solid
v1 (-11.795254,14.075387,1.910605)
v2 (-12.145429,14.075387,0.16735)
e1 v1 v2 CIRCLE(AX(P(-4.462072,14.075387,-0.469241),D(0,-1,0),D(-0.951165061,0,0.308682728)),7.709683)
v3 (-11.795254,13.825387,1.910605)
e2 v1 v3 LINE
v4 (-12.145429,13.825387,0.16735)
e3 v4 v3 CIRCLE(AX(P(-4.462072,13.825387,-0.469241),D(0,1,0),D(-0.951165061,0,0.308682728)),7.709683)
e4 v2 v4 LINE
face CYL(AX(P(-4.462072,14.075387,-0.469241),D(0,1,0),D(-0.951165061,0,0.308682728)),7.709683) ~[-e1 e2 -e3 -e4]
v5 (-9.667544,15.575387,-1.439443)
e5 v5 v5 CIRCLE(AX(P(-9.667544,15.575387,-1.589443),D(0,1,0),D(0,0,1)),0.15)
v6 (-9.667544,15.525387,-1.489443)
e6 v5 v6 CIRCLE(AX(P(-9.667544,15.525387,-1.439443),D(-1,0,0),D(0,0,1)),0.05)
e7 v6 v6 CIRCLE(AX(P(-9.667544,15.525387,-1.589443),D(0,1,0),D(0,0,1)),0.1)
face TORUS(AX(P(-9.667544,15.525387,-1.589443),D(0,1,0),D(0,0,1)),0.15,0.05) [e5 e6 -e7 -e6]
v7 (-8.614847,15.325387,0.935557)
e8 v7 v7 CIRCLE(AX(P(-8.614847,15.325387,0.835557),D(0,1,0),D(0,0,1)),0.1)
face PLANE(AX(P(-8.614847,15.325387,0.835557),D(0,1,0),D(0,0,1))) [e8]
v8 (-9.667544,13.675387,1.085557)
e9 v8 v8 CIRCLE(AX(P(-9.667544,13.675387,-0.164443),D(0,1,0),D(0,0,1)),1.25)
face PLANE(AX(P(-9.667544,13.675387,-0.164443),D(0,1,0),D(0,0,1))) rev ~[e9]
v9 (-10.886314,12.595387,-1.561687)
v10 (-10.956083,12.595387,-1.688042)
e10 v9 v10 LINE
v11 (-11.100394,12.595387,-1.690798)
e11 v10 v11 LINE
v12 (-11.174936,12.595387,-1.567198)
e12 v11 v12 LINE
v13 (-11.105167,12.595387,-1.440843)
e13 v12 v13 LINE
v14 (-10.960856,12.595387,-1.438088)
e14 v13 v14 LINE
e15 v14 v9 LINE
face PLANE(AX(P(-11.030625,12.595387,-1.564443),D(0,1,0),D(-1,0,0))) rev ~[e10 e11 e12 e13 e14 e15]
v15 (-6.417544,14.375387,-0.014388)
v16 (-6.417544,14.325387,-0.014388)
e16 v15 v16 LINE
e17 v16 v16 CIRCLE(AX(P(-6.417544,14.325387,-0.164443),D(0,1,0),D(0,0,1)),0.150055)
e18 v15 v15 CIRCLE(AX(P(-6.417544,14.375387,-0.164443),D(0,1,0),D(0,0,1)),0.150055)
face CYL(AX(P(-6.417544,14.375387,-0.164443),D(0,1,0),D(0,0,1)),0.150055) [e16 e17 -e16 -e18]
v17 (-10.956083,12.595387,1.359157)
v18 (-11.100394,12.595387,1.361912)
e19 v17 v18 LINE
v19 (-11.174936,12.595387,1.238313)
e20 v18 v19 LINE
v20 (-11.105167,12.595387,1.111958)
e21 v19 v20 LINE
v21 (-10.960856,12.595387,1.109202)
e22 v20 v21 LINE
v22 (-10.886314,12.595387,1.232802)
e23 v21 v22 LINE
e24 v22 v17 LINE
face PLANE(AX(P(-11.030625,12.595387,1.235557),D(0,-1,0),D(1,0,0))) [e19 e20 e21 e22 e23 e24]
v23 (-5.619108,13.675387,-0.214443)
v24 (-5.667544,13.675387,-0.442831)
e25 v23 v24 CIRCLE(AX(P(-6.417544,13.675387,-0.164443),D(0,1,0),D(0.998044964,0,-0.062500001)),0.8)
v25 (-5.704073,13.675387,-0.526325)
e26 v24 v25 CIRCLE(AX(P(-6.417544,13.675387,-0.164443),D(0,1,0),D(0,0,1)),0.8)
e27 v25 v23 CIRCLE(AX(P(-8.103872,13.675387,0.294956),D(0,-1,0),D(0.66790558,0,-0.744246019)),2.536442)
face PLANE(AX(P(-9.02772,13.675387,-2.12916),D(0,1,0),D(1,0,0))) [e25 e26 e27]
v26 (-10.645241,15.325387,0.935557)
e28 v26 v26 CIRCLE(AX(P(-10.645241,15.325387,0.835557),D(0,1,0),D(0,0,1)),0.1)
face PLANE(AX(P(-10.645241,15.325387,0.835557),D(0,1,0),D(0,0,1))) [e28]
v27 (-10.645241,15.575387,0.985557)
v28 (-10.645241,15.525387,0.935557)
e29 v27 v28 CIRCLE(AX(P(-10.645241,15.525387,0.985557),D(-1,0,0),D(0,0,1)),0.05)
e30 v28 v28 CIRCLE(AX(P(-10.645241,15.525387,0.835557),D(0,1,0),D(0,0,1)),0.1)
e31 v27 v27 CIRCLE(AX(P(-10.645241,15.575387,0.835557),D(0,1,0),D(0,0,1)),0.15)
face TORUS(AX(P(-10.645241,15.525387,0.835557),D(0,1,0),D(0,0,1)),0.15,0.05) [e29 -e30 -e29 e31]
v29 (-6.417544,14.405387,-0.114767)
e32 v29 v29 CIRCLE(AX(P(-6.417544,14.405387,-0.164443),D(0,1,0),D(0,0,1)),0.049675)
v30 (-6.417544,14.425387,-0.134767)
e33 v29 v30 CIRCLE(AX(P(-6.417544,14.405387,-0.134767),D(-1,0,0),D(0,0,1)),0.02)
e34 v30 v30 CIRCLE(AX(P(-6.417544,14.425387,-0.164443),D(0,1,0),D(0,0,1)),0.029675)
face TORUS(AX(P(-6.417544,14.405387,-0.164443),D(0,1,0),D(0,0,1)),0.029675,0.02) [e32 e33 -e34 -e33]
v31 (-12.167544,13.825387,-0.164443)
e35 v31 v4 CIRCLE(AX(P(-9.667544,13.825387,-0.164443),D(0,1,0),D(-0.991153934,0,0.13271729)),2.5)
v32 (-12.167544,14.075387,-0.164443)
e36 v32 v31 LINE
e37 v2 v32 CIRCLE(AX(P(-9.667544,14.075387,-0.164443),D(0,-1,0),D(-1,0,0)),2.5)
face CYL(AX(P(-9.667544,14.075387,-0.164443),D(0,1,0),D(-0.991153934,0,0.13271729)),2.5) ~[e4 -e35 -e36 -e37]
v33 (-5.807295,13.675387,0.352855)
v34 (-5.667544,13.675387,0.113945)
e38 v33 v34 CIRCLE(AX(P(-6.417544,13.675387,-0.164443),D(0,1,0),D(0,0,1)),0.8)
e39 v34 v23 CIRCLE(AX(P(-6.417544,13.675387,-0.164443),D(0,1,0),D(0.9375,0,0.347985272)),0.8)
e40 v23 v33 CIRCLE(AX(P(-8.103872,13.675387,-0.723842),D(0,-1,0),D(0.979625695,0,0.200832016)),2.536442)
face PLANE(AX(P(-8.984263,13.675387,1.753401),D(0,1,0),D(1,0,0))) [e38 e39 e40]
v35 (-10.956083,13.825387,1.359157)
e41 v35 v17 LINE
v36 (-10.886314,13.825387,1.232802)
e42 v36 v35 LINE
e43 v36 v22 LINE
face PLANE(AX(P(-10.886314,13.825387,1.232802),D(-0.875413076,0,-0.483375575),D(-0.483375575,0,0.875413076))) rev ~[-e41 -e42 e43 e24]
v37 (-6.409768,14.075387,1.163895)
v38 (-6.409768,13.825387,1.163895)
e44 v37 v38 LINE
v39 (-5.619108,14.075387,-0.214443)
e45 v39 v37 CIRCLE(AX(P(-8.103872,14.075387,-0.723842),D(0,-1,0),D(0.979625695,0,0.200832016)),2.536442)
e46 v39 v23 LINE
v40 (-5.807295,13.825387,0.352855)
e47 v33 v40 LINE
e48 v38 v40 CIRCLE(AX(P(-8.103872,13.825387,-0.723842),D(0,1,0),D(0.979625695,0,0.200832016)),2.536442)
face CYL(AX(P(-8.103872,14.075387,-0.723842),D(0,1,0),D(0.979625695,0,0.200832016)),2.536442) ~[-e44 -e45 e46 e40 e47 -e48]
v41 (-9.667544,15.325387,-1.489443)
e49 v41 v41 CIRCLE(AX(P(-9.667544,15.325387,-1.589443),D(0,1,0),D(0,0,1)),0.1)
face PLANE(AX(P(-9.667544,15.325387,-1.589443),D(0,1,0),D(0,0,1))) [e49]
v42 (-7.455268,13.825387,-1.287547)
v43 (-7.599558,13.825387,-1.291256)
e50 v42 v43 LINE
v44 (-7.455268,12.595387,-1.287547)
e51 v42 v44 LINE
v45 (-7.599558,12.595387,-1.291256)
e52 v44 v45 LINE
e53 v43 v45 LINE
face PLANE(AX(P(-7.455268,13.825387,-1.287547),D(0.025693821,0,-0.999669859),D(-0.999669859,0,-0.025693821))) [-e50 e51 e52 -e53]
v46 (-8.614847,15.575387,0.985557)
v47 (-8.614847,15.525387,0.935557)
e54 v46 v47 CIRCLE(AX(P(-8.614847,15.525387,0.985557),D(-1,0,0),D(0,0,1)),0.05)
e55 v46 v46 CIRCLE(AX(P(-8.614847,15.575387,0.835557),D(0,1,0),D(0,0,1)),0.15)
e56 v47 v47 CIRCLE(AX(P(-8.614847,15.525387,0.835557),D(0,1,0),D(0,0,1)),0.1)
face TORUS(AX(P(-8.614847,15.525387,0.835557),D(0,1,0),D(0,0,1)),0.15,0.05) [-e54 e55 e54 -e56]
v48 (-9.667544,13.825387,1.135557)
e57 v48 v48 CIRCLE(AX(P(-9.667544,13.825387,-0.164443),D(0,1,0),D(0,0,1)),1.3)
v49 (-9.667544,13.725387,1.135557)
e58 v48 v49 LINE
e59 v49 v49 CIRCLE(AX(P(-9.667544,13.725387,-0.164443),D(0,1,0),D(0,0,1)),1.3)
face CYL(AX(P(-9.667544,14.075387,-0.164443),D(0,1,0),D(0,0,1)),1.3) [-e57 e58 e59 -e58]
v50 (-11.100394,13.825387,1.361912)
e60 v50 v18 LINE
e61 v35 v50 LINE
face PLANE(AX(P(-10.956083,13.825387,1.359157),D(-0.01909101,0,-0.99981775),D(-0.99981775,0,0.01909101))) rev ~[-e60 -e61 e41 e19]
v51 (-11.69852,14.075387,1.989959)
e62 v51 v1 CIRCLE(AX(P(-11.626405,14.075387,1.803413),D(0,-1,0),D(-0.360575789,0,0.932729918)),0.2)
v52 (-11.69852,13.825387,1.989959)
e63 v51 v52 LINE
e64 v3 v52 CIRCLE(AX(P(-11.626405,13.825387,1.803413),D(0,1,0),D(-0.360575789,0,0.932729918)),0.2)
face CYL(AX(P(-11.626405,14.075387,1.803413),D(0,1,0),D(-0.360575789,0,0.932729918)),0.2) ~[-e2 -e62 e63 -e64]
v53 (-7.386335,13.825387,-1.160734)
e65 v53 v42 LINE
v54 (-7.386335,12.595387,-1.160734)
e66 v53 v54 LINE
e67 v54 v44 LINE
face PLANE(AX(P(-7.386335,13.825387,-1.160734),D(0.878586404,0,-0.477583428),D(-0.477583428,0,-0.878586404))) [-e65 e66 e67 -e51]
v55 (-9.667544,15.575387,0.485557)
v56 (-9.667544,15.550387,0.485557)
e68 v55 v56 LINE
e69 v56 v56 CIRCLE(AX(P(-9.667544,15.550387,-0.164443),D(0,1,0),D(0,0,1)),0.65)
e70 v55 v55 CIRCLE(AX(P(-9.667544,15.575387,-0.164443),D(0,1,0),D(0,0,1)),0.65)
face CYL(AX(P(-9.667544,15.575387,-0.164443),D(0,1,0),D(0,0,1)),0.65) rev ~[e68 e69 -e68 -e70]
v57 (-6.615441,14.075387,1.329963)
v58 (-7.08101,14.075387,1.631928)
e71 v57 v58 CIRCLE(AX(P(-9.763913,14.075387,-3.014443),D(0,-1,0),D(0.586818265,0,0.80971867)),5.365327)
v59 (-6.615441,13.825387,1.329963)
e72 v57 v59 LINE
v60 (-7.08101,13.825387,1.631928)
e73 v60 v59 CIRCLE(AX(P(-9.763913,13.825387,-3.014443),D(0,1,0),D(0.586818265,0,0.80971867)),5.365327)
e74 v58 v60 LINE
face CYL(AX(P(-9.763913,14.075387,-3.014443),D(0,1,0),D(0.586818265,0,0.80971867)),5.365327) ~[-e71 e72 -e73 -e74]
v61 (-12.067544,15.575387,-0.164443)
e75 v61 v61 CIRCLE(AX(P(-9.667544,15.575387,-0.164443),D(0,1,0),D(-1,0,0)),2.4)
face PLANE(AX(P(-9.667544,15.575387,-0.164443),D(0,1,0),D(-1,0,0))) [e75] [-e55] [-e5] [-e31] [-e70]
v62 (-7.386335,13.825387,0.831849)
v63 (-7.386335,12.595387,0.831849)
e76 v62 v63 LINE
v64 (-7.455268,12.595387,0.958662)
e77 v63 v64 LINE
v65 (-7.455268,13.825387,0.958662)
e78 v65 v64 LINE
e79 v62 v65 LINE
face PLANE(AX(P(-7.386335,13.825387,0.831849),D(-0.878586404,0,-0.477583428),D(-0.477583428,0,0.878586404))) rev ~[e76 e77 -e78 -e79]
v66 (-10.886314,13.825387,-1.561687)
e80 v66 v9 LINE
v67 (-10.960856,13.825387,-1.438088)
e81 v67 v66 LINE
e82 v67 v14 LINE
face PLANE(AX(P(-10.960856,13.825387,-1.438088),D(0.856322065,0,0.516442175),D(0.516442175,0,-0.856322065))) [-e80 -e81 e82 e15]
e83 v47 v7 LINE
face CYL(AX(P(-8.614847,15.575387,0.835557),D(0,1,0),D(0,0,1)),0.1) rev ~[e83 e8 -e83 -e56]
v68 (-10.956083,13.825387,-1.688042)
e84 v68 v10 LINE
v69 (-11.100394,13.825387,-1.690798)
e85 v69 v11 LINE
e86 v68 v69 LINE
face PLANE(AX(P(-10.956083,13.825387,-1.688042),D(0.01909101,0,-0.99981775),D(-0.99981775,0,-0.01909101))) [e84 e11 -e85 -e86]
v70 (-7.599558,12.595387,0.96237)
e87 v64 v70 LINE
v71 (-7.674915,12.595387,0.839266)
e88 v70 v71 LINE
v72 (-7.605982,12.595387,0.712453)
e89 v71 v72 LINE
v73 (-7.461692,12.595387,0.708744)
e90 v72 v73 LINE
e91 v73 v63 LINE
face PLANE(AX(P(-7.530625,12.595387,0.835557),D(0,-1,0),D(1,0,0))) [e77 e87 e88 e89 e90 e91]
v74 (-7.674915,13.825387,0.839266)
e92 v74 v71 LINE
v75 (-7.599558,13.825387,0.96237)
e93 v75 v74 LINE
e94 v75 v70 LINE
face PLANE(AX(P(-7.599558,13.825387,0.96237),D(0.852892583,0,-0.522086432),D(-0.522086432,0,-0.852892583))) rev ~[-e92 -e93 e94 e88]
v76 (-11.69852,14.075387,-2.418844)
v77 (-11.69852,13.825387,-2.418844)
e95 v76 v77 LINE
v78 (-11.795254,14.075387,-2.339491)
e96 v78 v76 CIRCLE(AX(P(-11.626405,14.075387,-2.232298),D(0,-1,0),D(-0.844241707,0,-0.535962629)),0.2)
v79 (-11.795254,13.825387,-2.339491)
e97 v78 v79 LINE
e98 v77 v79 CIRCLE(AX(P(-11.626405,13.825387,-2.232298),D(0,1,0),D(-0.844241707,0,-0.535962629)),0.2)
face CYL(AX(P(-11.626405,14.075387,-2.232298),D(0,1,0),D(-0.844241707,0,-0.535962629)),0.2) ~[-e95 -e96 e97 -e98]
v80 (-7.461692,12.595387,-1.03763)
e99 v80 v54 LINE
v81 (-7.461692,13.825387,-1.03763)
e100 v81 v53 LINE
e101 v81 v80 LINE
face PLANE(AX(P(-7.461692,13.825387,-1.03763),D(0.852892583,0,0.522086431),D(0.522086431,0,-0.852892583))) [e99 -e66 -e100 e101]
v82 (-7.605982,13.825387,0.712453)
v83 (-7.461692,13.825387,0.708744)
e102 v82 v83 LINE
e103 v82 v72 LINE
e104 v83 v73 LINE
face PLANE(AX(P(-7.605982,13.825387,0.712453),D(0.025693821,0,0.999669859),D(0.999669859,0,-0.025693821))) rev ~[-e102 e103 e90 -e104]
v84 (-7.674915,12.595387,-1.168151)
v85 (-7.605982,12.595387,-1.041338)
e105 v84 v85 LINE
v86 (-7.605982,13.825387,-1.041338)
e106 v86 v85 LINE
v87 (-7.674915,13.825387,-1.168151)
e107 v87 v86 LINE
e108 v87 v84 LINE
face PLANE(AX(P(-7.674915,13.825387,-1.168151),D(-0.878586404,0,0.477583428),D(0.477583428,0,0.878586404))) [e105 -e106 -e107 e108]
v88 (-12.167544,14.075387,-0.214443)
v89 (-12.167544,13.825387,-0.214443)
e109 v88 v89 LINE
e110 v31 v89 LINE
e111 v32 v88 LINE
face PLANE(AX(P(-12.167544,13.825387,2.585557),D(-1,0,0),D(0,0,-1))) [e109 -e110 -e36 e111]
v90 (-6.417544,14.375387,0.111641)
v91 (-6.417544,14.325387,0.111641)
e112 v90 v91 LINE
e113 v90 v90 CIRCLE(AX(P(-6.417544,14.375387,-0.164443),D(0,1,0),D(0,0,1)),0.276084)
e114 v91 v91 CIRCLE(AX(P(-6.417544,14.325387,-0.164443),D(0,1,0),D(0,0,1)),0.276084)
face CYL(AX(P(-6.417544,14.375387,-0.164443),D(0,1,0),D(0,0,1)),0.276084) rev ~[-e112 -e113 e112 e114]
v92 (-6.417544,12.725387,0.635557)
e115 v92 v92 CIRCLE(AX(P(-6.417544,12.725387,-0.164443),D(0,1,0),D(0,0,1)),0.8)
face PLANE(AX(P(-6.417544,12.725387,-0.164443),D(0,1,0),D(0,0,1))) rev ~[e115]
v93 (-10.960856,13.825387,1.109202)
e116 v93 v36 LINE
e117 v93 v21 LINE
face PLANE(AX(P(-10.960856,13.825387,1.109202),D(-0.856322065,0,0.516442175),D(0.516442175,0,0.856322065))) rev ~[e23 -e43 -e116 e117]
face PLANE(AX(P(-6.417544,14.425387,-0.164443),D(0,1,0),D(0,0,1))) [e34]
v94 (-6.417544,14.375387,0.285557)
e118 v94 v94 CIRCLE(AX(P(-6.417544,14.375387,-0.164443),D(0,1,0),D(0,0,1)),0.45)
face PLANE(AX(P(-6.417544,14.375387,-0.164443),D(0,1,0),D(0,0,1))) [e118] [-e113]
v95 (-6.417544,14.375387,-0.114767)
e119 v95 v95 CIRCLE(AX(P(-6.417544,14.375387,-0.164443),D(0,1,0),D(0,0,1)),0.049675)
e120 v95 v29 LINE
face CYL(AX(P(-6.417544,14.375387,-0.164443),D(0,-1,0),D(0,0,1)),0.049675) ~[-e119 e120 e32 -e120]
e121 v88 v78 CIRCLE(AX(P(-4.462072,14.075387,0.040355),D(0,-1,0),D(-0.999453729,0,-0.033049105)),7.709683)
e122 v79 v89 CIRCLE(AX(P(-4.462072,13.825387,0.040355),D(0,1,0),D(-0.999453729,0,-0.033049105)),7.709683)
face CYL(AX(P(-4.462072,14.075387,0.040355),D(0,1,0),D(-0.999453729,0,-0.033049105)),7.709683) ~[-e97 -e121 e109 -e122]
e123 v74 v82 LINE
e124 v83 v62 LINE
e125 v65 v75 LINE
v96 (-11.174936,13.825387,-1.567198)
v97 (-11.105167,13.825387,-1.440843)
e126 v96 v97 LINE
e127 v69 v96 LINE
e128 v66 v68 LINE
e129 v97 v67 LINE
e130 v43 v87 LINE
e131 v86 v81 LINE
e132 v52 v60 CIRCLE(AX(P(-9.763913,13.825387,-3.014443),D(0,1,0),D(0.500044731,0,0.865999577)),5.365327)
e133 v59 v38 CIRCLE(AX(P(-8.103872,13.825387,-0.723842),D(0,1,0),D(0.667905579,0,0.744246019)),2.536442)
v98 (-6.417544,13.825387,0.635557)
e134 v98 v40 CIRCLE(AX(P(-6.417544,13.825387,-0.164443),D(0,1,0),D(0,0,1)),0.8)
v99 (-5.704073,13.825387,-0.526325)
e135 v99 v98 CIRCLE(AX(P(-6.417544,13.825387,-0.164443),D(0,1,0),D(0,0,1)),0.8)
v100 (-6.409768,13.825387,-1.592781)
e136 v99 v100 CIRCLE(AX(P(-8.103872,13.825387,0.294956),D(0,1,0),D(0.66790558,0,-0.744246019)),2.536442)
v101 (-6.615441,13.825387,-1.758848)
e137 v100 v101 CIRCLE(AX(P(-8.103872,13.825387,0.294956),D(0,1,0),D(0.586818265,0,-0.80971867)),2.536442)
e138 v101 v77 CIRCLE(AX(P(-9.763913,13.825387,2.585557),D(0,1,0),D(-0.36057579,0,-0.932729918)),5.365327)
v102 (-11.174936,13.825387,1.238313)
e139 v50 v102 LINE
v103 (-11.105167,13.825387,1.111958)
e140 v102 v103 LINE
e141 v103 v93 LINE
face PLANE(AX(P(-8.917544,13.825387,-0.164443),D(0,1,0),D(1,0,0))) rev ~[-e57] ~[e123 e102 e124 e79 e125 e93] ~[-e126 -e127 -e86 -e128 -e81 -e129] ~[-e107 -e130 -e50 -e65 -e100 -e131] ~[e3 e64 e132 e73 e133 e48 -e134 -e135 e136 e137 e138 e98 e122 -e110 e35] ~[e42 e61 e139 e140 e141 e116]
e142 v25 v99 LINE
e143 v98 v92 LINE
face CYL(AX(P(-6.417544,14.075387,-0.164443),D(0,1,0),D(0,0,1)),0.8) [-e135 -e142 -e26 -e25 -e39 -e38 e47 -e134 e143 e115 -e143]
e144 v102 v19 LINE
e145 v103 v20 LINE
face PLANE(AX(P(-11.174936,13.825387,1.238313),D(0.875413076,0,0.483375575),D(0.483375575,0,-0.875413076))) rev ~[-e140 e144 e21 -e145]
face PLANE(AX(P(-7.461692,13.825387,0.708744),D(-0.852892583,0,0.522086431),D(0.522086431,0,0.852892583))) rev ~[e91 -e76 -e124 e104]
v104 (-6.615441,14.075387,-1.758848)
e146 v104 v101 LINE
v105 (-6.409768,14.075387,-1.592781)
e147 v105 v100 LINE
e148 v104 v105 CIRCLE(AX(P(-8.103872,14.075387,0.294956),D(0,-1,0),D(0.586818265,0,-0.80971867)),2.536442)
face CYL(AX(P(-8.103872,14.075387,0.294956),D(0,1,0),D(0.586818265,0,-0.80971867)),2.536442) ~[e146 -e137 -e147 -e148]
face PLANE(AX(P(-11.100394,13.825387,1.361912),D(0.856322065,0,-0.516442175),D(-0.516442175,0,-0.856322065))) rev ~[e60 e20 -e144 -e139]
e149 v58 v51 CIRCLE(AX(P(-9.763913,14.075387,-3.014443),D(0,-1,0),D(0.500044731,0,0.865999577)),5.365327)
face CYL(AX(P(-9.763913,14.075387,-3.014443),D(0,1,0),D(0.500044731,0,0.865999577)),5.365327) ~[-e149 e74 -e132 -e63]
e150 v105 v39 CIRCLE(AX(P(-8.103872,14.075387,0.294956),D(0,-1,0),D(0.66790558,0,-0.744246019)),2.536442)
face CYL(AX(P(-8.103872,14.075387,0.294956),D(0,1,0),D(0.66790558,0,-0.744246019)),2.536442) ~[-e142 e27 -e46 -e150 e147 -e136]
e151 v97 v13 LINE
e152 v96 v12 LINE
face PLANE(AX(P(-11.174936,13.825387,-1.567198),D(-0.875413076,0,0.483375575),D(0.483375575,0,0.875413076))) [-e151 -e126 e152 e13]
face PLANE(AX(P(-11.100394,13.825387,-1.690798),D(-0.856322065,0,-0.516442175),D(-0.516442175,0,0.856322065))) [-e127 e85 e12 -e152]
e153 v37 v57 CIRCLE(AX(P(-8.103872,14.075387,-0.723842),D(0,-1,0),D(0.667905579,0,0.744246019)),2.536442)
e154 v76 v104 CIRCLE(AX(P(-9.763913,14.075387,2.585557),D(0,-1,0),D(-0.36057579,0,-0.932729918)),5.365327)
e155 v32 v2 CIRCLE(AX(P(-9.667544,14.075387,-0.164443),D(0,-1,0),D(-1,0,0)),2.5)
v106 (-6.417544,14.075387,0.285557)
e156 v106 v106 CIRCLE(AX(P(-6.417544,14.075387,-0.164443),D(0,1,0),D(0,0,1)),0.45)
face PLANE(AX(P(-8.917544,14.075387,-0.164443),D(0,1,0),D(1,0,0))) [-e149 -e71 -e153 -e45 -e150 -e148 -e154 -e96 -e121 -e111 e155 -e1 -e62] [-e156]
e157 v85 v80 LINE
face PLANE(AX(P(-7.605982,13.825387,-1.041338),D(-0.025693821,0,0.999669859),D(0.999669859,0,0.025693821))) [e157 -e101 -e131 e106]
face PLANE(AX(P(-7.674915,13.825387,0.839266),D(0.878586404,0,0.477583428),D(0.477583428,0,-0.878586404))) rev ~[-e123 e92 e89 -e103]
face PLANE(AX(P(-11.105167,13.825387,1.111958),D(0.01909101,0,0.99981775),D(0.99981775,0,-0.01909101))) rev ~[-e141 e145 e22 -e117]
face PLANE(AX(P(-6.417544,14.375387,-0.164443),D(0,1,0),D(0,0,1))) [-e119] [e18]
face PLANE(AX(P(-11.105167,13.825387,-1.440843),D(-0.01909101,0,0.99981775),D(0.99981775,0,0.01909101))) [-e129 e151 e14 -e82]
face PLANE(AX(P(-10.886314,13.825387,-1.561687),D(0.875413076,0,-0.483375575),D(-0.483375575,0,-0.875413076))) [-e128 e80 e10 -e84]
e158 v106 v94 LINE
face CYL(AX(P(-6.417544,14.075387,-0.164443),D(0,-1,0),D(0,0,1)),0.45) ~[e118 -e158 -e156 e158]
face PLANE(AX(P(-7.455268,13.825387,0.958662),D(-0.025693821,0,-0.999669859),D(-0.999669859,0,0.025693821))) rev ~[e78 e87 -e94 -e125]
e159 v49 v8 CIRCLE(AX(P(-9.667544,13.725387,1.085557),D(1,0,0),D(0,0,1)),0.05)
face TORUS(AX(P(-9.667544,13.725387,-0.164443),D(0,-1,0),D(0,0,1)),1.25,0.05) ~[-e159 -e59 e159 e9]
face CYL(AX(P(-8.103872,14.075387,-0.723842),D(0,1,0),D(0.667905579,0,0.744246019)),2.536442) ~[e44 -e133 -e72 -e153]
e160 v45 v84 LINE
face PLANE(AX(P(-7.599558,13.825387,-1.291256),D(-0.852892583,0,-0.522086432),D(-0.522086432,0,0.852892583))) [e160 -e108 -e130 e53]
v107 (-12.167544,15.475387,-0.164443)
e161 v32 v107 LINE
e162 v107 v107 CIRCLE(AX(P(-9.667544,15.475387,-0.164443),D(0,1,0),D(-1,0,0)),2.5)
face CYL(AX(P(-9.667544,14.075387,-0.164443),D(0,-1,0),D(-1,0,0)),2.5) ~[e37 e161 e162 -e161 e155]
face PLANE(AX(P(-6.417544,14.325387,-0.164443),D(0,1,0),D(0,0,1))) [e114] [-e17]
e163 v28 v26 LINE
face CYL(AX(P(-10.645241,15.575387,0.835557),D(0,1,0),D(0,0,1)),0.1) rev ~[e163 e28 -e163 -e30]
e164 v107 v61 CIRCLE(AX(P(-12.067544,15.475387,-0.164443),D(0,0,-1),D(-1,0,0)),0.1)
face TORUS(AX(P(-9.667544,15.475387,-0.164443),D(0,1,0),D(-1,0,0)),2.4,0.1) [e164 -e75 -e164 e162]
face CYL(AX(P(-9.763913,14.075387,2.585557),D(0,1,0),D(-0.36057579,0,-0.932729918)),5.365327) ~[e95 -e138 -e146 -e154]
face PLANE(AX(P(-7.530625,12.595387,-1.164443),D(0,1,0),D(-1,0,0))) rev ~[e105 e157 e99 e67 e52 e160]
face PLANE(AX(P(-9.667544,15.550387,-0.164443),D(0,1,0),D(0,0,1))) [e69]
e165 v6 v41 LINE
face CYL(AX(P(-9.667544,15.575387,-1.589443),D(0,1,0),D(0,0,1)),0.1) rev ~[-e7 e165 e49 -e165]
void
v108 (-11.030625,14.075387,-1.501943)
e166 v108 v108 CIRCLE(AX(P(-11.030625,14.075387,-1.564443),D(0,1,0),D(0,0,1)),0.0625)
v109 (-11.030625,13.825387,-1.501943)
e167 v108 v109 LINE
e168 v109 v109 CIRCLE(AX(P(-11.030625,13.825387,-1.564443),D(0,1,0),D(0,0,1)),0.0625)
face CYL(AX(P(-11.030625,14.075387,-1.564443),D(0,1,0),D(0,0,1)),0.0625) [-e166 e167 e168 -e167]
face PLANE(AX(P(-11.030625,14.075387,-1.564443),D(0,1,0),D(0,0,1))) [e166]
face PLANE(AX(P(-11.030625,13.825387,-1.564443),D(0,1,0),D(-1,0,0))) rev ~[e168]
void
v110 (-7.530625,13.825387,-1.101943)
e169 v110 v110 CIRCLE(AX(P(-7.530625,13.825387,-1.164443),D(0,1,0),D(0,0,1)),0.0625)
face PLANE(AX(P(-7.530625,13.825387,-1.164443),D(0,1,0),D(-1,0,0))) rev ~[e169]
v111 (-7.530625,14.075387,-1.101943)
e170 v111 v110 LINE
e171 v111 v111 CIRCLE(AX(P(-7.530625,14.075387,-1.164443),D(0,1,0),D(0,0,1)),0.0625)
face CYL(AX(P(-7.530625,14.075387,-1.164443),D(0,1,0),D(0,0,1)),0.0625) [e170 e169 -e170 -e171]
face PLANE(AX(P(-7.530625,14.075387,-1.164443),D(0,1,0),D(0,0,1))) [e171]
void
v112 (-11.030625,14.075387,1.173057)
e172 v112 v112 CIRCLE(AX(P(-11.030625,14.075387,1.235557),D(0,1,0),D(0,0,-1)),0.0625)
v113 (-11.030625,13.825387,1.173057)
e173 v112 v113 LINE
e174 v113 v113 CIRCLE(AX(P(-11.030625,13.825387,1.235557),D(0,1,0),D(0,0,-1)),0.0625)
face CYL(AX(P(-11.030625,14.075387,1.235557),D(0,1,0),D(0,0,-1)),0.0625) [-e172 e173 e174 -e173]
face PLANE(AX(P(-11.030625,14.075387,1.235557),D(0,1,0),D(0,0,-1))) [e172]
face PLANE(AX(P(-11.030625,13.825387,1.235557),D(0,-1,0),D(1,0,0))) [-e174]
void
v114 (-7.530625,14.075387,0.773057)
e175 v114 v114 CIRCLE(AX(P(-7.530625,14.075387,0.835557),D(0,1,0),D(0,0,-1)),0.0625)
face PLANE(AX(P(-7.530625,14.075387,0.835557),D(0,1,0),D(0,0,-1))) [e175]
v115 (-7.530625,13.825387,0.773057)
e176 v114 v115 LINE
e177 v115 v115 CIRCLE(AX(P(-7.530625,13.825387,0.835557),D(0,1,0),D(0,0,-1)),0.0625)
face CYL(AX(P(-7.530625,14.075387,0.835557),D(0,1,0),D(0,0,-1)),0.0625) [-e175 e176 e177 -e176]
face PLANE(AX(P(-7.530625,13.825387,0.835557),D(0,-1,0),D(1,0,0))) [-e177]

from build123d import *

# Parameters (mm, degrees)
SKETCH_1_W          = 130
SKETCH_1_H          = 110
EXTRUDE_1_DEPTH     = 5
SKETCH_2_R          = 50
EXTRUDE_2_DEPTH     = 30
SKETCH_3_R          = 2
CUT_EXTRUDE_1_DEPTH = 5
FILLET_1_R          = 2
FILLET_2_R          = 1
SKETCH_4_R          = 13
CUT_EXTRUDE_3_DEPTH = 0.5
SKETCH_5_R          = 1.25
CUT_EXTRUDE_4_DEPTH = 5
SKETCH_6_R          = 9
EXTRUDE_3_DEPTH     = 7
CUT_EXTRUDE_START   = -1
SKETCH_7_R          = 9
SKETCH_7_R_2        = 0.99350654
CUT_EXTRUDE_5_DEPTH = 1
SKETCH_8_R          = 5.521677929
SKETCH_8_R_2        = 3.001097475
CUT_EXTRUDE_6_DEPTH = 1
FILLET_3_R          = 0.4
SKETCH_9_R          = 16
EXTRUDE_4_DEPTH     = 27
EXTRUDE_5_DEPTH     = 24.6
SKETCH_11_R         = 26
EXTRUDE_6_DEPTH     = 8
FILLET_4_R          = 1
CUT_EXTRUDE_7_DEPTH = 8
L_EK1_SCALE         = 0.05


with BuildPart() as part:
    # Эскиз1 → Бобышка-Вытянуть1 (new body)
    with BuildSketch(Plane(origin=(0, 0, 0), x_dir=(1, 0, 0), z_dir=(0, 1, 0))):
        Rectangle(SKETCH_1_W, SKETCH_1_H)
    extrude(amount=EXTRUDE_1_DEPTH)

    # Эскиз2 → Бобышка-Вытянуть2 (add)
    with BuildSketch(Plane(origin=(0, 5, 0), x_dir=(1, 0, 0), z_dir=(0, 1, 0))):
        with Locations(Location((-15, 0, 0), (0, 0, 180))):
            Circle(SKETCH_2_R)
    extrude(amount=EXTRUDE_2_DEPTH)

    # Эскиз3 → Вырез-Вытянуть1 (cut)
    with BuildSketch(Plane(origin=(0, 35, 0), x_dir=(1, 0, 0), z_dir=(0, 1, 0))):
        with Locations(Location((-15, 28.5, 0), (0, 0, 270))):
            Circle(SKETCH_3_R)
        with Locations(Location((-34.553940504, -20, 0), (0, 0, 270))):
            Circle(SKETCH_3_R)
        with Locations(Location((6.053940504, -20, 0), (0, 0, 270))):
            Circle(SKETCH_3_R)
    extrude(amount=-CUT_EXTRUDE_1_DEPTH, mode=Mode.SUBTRACT)

    # Скругление1
    fillet_1_edges = [part.edges().sort_by_distance(p)[0] for p in [
        (35, 35, 0),
    ]]
    fillet(fillet_1_edges, radius=FILLET_1_R)

    # Скругление2
    fillet_2_edges = [part.edges().sort_by_distance(p)[0] for p in [
        (-15, 35, -30.5),
        (-34.553940504, 35, 18),
        (6.053940504, 35, 18),
    ]]
    fillet(fillet_2_edges, radius=FILLET_2_R)

    # Эскиз4 → Вырез-Вытянуть3 (cut)
    with BuildSketch(Plane(origin=(0, 35, 0), x_dir=(1, 0, 0), z_dir=(0, 1, 0))):
        with Locations(Location((-15, 0, 0), (0, 0, 270))):
            Circle(SKETCH_4_R)
    extrude(amount=-CUT_EXTRUDE_3_DEPTH, mode=Mode.SUBTRACT)

    # Эскиз5 → Вырез-Вытянуть4 (cut)
    with BuildSketch(Plane(origin=(0, 5, 0), x_dir=(1, 0, 0), z_dir=(0, 1, 0))):
        with Locations(Location((-42.261625838, 28, 0), (0, 0, 270))):
            Circle(SKETCH_5_R)
        with Locations(Location((27.738374162, 20, 0), (0, 0, 270))):
            Circle(SKETCH_5_R)
        with Locations(Location((27.738374162, -20, 0), (0, 0, 90))):
            Circle(SKETCH_5_R)
        with Locations(Location((-42.261625838, -28, 0), (0, 0, 90))):
            Circle(SKETCH_5_R)
    extrude(amount=-CUT_EXTRUDE_4_DEPTH, mode=Mode.SUBTRACT)

    # Эскиз6 → Бобышка-Вытянуть3 (add)
    with BuildSketch(Plane(origin=(0, 5, 0), x_dir=(1, 0, 0), z_dir=(0, 1, 0))):
        with Locations(Location((50, 0, 0), (0, 0, 270))):
            Circle(SKETCH_6_R)
    extrude(amount=EXTRUDE_3_DEPTH)

    # Эскиз7 → Вырез-Вытянуть5 (cut)
    with BuildSketch(Plane(origin=(0, 12, 0), x_dir=(1, 0, 0), z_dir=(0, 1, 0)).offset(CUT_EXTRUDE_START)):
        with Locations(Location((50, 0, 0), (0, 0, 270))):
            Circle(SKETCH_7_R)
        with Locations(Location((50, 0, 0), (0, 0, 270))):
            Circle(SKETCH_7_R_2, mode=Mode.SUBTRACT)
    extrude(amount=CUT_EXTRUDE_5_DEPTH, mode=Mode.SUBTRACT)

    # Эскиз8 → Вырез-Вытянуть6 (cut)
    with BuildSketch(Plane(origin=(0, 11, 0), x_dir=(1, 0, 0), z_dir=(0, 1, 0))):
        with Locations(Location((50, 0, 0), (0, 0, 270))):
            Circle(SKETCH_8_R)
        with Locations(Location((50, 0, 0), (0, 0, 270))):
            Circle(SKETCH_8_R_2, mode=Mode.SUBTRACT)
    extrude(amount=-CUT_EXTRUDE_6_DEPTH, mode=Mode.SUBTRACT)

    # Скругление3
    fillet_3_edges = [part.edges().sort_by_distance(p)[0] for p in [
        (50, 12, -0.99350654),
    ]]
    fillet(fillet_3_edges, radius=FILLET_3_R)

    # Эскиз9 → Бобышка-Вытянуть4 (add)
    with BuildSketch(Plane(origin=(0, 5, 0), x_dir=(1, 0, 0), z_dir=(0, 1, 0))):
        with Locations(Location((50, 0, 0), (0, 0, 270))):
            Circle(SKETCH_9_R)
    extrude(amount=-EXTRUDE_4_DEPTH)

    # Эскиз10 → Бобышка-Вытянуть5 (add)
    with BuildSketch(Plane.XZ):
        Polygon((-40.866240746, 25.472900125), (-39.375400602, 27.944889), (-40.770785694, 30.471988875), (-43.65701093, 30.527099875), (-45.147851074, 28.055111), (-43.752465982, 25.528011125), align=None)
        Polygon((29.24550787, 22.462088812), (26.359709559, 22.536260484), (24.85257585, 20.074171672), (26.231240454, 17.537911188), (29.117038766, 17.463739516), (30.624172474, 19.925828328), align=None)
        Polygon((30.624172474, -19.925828328), (29.24550787, -22.462088812), (26.359709559, -22.536260484), (24.85257585, -20.074171672), (26.231240454, -17.537911188), (29.117038766, -17.463739516), align=None)
        Polygon((-43.752465982, -25.528011125), (-40.866240746, -25.472900125), (-39.375400602, -27.944889), (-40.770785694, -30.471988875), (-43.65701093, -30.527099875), (-45.147851074, -28.055111), align=None)
    extrude(amount=EXTRUDE_5_DEPTH)

    # Эскиз11 → Бобышка-Вытянуть6 (add)
    with BuildSketch(Plane(origin=(0, 5, 0), x_dir=(1, 0, 0), z_dir=(0, 1, 0))):
        with Locations(Location((-15, 0, 0), (0, 0, 270))):
            Circle(SKETCH_11_R)
    extrude(amount=-EXTRUDE_6_DEPTH)

    # Скругление4
    fillet_4_edges = [part.edges().sort_by_distance(p)[0] for p in [
        (-15, -3, -26),
    ]]
    fillet(fillet_4_edges, radius=FILLET_4_R)

    # Эскиз12 → Вырез-Вытянуть7 (cut)
    with BuildSketch(Plane(origin=(0, 5, 0), x_dir=(1, 0, 0), z_dir=(0, 1, 0))):
        with BuildLine():
            ThreePointArc((-55.61952989, 45.088026087), (-3.110505258, 51.413291648), (46.042054033, 31.888113866))
            Line((46.042054033, 31.888113866), (50.155519467, 31.888113866))
            Line((50.155519467, 31.888113866), (50.155519467, 28.566762229))
            ThreePointArc((50.155519467, 28.566762229), (60.276568777, 16.053661962), (65.968719423, 1))
            ThreePointArc((65.968719423, 1), (65.651885301, 3.319410567), (65, 5.567764363))
            Line((65, 5.567764363), (65, 55))
            Line((65, 55), (-65, 55))
            Line((-65, 55), (-65, 1))
            ThreePointArc((-65, 1), (-62.771083165, 22.512212182), (-57.554193562, 43.500956931))
            ThreePointArc((-57.554193562, 43.500956931), (-56.714161483, 44.449672028), (-55.61952989, 45.088026087))
        make_face()
        with BuildLine():
            ThreePointArc((65.968719423, 1), (60.276568777, -14.053661962), (50.155519467, -26.566762229))
            Line((50.155519467, -26.566762229), (50.155519467, -35.927423649))
            Line((50.155519467, -35.927423649), (36.730685776, -35.927423649))
            ThreePointArc((36.730685776, -35.927423649), (-8.632007519, -49.985426777), (-55.61952989, -43.088026087))
            ThreePointArc((-55.61952989, -43.088026087), (-56.714161483, -42.449672028), (-57.554193562, -41.500956931))
            ThreePointArc((-57.554193562, -41.500956931), (-62.064422103, -24.270987895), (-64.557696698, -6.635864526))
            ThreePointArc((-64.557696698, -6.635864526), (-64.889301633, -3.325294356), (-65, 0))
            Line((-65, 0), (-65, -55))
            Line((-65, -55), (65, -55))
            Line((65, -55), (65, -5.567764363))
            ThreePointArc((65, -5.567764363), (65.828748461, -2.334678168), (65.968719423, 1))
        make_face()
        with BuildLine():
            Line((50.155519467, -35.927423649), (50.155519467, -26.566762229))
            ThreePointArc((50.155519467, -26.566762229), (48.142085096, -28.281062677), (46.042054033, -29.888113866))
            ThreePointArc((46.042054033, -29.888113866), (41.464500793, -33.028230448), (36.730685776, -35.927423649))
            Line((36.730685776, -35.927423649), (50.155519467, -35.927423649))
        make_face()
        with BuildLine():
            Line((50.155519467, 31.888113866), (46.042054033, 31.888113866))
            ThreePointArc((46.042054033, 31.888113866), (48.142085096, 30.281062677), (50.155519467, 28.566762229))
            Line((50.155519467, 28.566762229), (50.155519467, 31.888113866))
        make_face()
    extrude(amount=-CUT_EXTRUDE_7_DEPTH, mode=Mode.SUBTRACT)


with BuildPart() as part_1:
    # Ölçek1: scaled about (-9.386888291, 14.55303931, -0.17309767)
    add(part.part.scale(L_EK1_SCALE).moved(Location((-8.917543876, 13.825387344, -0.164442786))))


solid = part_1.part
